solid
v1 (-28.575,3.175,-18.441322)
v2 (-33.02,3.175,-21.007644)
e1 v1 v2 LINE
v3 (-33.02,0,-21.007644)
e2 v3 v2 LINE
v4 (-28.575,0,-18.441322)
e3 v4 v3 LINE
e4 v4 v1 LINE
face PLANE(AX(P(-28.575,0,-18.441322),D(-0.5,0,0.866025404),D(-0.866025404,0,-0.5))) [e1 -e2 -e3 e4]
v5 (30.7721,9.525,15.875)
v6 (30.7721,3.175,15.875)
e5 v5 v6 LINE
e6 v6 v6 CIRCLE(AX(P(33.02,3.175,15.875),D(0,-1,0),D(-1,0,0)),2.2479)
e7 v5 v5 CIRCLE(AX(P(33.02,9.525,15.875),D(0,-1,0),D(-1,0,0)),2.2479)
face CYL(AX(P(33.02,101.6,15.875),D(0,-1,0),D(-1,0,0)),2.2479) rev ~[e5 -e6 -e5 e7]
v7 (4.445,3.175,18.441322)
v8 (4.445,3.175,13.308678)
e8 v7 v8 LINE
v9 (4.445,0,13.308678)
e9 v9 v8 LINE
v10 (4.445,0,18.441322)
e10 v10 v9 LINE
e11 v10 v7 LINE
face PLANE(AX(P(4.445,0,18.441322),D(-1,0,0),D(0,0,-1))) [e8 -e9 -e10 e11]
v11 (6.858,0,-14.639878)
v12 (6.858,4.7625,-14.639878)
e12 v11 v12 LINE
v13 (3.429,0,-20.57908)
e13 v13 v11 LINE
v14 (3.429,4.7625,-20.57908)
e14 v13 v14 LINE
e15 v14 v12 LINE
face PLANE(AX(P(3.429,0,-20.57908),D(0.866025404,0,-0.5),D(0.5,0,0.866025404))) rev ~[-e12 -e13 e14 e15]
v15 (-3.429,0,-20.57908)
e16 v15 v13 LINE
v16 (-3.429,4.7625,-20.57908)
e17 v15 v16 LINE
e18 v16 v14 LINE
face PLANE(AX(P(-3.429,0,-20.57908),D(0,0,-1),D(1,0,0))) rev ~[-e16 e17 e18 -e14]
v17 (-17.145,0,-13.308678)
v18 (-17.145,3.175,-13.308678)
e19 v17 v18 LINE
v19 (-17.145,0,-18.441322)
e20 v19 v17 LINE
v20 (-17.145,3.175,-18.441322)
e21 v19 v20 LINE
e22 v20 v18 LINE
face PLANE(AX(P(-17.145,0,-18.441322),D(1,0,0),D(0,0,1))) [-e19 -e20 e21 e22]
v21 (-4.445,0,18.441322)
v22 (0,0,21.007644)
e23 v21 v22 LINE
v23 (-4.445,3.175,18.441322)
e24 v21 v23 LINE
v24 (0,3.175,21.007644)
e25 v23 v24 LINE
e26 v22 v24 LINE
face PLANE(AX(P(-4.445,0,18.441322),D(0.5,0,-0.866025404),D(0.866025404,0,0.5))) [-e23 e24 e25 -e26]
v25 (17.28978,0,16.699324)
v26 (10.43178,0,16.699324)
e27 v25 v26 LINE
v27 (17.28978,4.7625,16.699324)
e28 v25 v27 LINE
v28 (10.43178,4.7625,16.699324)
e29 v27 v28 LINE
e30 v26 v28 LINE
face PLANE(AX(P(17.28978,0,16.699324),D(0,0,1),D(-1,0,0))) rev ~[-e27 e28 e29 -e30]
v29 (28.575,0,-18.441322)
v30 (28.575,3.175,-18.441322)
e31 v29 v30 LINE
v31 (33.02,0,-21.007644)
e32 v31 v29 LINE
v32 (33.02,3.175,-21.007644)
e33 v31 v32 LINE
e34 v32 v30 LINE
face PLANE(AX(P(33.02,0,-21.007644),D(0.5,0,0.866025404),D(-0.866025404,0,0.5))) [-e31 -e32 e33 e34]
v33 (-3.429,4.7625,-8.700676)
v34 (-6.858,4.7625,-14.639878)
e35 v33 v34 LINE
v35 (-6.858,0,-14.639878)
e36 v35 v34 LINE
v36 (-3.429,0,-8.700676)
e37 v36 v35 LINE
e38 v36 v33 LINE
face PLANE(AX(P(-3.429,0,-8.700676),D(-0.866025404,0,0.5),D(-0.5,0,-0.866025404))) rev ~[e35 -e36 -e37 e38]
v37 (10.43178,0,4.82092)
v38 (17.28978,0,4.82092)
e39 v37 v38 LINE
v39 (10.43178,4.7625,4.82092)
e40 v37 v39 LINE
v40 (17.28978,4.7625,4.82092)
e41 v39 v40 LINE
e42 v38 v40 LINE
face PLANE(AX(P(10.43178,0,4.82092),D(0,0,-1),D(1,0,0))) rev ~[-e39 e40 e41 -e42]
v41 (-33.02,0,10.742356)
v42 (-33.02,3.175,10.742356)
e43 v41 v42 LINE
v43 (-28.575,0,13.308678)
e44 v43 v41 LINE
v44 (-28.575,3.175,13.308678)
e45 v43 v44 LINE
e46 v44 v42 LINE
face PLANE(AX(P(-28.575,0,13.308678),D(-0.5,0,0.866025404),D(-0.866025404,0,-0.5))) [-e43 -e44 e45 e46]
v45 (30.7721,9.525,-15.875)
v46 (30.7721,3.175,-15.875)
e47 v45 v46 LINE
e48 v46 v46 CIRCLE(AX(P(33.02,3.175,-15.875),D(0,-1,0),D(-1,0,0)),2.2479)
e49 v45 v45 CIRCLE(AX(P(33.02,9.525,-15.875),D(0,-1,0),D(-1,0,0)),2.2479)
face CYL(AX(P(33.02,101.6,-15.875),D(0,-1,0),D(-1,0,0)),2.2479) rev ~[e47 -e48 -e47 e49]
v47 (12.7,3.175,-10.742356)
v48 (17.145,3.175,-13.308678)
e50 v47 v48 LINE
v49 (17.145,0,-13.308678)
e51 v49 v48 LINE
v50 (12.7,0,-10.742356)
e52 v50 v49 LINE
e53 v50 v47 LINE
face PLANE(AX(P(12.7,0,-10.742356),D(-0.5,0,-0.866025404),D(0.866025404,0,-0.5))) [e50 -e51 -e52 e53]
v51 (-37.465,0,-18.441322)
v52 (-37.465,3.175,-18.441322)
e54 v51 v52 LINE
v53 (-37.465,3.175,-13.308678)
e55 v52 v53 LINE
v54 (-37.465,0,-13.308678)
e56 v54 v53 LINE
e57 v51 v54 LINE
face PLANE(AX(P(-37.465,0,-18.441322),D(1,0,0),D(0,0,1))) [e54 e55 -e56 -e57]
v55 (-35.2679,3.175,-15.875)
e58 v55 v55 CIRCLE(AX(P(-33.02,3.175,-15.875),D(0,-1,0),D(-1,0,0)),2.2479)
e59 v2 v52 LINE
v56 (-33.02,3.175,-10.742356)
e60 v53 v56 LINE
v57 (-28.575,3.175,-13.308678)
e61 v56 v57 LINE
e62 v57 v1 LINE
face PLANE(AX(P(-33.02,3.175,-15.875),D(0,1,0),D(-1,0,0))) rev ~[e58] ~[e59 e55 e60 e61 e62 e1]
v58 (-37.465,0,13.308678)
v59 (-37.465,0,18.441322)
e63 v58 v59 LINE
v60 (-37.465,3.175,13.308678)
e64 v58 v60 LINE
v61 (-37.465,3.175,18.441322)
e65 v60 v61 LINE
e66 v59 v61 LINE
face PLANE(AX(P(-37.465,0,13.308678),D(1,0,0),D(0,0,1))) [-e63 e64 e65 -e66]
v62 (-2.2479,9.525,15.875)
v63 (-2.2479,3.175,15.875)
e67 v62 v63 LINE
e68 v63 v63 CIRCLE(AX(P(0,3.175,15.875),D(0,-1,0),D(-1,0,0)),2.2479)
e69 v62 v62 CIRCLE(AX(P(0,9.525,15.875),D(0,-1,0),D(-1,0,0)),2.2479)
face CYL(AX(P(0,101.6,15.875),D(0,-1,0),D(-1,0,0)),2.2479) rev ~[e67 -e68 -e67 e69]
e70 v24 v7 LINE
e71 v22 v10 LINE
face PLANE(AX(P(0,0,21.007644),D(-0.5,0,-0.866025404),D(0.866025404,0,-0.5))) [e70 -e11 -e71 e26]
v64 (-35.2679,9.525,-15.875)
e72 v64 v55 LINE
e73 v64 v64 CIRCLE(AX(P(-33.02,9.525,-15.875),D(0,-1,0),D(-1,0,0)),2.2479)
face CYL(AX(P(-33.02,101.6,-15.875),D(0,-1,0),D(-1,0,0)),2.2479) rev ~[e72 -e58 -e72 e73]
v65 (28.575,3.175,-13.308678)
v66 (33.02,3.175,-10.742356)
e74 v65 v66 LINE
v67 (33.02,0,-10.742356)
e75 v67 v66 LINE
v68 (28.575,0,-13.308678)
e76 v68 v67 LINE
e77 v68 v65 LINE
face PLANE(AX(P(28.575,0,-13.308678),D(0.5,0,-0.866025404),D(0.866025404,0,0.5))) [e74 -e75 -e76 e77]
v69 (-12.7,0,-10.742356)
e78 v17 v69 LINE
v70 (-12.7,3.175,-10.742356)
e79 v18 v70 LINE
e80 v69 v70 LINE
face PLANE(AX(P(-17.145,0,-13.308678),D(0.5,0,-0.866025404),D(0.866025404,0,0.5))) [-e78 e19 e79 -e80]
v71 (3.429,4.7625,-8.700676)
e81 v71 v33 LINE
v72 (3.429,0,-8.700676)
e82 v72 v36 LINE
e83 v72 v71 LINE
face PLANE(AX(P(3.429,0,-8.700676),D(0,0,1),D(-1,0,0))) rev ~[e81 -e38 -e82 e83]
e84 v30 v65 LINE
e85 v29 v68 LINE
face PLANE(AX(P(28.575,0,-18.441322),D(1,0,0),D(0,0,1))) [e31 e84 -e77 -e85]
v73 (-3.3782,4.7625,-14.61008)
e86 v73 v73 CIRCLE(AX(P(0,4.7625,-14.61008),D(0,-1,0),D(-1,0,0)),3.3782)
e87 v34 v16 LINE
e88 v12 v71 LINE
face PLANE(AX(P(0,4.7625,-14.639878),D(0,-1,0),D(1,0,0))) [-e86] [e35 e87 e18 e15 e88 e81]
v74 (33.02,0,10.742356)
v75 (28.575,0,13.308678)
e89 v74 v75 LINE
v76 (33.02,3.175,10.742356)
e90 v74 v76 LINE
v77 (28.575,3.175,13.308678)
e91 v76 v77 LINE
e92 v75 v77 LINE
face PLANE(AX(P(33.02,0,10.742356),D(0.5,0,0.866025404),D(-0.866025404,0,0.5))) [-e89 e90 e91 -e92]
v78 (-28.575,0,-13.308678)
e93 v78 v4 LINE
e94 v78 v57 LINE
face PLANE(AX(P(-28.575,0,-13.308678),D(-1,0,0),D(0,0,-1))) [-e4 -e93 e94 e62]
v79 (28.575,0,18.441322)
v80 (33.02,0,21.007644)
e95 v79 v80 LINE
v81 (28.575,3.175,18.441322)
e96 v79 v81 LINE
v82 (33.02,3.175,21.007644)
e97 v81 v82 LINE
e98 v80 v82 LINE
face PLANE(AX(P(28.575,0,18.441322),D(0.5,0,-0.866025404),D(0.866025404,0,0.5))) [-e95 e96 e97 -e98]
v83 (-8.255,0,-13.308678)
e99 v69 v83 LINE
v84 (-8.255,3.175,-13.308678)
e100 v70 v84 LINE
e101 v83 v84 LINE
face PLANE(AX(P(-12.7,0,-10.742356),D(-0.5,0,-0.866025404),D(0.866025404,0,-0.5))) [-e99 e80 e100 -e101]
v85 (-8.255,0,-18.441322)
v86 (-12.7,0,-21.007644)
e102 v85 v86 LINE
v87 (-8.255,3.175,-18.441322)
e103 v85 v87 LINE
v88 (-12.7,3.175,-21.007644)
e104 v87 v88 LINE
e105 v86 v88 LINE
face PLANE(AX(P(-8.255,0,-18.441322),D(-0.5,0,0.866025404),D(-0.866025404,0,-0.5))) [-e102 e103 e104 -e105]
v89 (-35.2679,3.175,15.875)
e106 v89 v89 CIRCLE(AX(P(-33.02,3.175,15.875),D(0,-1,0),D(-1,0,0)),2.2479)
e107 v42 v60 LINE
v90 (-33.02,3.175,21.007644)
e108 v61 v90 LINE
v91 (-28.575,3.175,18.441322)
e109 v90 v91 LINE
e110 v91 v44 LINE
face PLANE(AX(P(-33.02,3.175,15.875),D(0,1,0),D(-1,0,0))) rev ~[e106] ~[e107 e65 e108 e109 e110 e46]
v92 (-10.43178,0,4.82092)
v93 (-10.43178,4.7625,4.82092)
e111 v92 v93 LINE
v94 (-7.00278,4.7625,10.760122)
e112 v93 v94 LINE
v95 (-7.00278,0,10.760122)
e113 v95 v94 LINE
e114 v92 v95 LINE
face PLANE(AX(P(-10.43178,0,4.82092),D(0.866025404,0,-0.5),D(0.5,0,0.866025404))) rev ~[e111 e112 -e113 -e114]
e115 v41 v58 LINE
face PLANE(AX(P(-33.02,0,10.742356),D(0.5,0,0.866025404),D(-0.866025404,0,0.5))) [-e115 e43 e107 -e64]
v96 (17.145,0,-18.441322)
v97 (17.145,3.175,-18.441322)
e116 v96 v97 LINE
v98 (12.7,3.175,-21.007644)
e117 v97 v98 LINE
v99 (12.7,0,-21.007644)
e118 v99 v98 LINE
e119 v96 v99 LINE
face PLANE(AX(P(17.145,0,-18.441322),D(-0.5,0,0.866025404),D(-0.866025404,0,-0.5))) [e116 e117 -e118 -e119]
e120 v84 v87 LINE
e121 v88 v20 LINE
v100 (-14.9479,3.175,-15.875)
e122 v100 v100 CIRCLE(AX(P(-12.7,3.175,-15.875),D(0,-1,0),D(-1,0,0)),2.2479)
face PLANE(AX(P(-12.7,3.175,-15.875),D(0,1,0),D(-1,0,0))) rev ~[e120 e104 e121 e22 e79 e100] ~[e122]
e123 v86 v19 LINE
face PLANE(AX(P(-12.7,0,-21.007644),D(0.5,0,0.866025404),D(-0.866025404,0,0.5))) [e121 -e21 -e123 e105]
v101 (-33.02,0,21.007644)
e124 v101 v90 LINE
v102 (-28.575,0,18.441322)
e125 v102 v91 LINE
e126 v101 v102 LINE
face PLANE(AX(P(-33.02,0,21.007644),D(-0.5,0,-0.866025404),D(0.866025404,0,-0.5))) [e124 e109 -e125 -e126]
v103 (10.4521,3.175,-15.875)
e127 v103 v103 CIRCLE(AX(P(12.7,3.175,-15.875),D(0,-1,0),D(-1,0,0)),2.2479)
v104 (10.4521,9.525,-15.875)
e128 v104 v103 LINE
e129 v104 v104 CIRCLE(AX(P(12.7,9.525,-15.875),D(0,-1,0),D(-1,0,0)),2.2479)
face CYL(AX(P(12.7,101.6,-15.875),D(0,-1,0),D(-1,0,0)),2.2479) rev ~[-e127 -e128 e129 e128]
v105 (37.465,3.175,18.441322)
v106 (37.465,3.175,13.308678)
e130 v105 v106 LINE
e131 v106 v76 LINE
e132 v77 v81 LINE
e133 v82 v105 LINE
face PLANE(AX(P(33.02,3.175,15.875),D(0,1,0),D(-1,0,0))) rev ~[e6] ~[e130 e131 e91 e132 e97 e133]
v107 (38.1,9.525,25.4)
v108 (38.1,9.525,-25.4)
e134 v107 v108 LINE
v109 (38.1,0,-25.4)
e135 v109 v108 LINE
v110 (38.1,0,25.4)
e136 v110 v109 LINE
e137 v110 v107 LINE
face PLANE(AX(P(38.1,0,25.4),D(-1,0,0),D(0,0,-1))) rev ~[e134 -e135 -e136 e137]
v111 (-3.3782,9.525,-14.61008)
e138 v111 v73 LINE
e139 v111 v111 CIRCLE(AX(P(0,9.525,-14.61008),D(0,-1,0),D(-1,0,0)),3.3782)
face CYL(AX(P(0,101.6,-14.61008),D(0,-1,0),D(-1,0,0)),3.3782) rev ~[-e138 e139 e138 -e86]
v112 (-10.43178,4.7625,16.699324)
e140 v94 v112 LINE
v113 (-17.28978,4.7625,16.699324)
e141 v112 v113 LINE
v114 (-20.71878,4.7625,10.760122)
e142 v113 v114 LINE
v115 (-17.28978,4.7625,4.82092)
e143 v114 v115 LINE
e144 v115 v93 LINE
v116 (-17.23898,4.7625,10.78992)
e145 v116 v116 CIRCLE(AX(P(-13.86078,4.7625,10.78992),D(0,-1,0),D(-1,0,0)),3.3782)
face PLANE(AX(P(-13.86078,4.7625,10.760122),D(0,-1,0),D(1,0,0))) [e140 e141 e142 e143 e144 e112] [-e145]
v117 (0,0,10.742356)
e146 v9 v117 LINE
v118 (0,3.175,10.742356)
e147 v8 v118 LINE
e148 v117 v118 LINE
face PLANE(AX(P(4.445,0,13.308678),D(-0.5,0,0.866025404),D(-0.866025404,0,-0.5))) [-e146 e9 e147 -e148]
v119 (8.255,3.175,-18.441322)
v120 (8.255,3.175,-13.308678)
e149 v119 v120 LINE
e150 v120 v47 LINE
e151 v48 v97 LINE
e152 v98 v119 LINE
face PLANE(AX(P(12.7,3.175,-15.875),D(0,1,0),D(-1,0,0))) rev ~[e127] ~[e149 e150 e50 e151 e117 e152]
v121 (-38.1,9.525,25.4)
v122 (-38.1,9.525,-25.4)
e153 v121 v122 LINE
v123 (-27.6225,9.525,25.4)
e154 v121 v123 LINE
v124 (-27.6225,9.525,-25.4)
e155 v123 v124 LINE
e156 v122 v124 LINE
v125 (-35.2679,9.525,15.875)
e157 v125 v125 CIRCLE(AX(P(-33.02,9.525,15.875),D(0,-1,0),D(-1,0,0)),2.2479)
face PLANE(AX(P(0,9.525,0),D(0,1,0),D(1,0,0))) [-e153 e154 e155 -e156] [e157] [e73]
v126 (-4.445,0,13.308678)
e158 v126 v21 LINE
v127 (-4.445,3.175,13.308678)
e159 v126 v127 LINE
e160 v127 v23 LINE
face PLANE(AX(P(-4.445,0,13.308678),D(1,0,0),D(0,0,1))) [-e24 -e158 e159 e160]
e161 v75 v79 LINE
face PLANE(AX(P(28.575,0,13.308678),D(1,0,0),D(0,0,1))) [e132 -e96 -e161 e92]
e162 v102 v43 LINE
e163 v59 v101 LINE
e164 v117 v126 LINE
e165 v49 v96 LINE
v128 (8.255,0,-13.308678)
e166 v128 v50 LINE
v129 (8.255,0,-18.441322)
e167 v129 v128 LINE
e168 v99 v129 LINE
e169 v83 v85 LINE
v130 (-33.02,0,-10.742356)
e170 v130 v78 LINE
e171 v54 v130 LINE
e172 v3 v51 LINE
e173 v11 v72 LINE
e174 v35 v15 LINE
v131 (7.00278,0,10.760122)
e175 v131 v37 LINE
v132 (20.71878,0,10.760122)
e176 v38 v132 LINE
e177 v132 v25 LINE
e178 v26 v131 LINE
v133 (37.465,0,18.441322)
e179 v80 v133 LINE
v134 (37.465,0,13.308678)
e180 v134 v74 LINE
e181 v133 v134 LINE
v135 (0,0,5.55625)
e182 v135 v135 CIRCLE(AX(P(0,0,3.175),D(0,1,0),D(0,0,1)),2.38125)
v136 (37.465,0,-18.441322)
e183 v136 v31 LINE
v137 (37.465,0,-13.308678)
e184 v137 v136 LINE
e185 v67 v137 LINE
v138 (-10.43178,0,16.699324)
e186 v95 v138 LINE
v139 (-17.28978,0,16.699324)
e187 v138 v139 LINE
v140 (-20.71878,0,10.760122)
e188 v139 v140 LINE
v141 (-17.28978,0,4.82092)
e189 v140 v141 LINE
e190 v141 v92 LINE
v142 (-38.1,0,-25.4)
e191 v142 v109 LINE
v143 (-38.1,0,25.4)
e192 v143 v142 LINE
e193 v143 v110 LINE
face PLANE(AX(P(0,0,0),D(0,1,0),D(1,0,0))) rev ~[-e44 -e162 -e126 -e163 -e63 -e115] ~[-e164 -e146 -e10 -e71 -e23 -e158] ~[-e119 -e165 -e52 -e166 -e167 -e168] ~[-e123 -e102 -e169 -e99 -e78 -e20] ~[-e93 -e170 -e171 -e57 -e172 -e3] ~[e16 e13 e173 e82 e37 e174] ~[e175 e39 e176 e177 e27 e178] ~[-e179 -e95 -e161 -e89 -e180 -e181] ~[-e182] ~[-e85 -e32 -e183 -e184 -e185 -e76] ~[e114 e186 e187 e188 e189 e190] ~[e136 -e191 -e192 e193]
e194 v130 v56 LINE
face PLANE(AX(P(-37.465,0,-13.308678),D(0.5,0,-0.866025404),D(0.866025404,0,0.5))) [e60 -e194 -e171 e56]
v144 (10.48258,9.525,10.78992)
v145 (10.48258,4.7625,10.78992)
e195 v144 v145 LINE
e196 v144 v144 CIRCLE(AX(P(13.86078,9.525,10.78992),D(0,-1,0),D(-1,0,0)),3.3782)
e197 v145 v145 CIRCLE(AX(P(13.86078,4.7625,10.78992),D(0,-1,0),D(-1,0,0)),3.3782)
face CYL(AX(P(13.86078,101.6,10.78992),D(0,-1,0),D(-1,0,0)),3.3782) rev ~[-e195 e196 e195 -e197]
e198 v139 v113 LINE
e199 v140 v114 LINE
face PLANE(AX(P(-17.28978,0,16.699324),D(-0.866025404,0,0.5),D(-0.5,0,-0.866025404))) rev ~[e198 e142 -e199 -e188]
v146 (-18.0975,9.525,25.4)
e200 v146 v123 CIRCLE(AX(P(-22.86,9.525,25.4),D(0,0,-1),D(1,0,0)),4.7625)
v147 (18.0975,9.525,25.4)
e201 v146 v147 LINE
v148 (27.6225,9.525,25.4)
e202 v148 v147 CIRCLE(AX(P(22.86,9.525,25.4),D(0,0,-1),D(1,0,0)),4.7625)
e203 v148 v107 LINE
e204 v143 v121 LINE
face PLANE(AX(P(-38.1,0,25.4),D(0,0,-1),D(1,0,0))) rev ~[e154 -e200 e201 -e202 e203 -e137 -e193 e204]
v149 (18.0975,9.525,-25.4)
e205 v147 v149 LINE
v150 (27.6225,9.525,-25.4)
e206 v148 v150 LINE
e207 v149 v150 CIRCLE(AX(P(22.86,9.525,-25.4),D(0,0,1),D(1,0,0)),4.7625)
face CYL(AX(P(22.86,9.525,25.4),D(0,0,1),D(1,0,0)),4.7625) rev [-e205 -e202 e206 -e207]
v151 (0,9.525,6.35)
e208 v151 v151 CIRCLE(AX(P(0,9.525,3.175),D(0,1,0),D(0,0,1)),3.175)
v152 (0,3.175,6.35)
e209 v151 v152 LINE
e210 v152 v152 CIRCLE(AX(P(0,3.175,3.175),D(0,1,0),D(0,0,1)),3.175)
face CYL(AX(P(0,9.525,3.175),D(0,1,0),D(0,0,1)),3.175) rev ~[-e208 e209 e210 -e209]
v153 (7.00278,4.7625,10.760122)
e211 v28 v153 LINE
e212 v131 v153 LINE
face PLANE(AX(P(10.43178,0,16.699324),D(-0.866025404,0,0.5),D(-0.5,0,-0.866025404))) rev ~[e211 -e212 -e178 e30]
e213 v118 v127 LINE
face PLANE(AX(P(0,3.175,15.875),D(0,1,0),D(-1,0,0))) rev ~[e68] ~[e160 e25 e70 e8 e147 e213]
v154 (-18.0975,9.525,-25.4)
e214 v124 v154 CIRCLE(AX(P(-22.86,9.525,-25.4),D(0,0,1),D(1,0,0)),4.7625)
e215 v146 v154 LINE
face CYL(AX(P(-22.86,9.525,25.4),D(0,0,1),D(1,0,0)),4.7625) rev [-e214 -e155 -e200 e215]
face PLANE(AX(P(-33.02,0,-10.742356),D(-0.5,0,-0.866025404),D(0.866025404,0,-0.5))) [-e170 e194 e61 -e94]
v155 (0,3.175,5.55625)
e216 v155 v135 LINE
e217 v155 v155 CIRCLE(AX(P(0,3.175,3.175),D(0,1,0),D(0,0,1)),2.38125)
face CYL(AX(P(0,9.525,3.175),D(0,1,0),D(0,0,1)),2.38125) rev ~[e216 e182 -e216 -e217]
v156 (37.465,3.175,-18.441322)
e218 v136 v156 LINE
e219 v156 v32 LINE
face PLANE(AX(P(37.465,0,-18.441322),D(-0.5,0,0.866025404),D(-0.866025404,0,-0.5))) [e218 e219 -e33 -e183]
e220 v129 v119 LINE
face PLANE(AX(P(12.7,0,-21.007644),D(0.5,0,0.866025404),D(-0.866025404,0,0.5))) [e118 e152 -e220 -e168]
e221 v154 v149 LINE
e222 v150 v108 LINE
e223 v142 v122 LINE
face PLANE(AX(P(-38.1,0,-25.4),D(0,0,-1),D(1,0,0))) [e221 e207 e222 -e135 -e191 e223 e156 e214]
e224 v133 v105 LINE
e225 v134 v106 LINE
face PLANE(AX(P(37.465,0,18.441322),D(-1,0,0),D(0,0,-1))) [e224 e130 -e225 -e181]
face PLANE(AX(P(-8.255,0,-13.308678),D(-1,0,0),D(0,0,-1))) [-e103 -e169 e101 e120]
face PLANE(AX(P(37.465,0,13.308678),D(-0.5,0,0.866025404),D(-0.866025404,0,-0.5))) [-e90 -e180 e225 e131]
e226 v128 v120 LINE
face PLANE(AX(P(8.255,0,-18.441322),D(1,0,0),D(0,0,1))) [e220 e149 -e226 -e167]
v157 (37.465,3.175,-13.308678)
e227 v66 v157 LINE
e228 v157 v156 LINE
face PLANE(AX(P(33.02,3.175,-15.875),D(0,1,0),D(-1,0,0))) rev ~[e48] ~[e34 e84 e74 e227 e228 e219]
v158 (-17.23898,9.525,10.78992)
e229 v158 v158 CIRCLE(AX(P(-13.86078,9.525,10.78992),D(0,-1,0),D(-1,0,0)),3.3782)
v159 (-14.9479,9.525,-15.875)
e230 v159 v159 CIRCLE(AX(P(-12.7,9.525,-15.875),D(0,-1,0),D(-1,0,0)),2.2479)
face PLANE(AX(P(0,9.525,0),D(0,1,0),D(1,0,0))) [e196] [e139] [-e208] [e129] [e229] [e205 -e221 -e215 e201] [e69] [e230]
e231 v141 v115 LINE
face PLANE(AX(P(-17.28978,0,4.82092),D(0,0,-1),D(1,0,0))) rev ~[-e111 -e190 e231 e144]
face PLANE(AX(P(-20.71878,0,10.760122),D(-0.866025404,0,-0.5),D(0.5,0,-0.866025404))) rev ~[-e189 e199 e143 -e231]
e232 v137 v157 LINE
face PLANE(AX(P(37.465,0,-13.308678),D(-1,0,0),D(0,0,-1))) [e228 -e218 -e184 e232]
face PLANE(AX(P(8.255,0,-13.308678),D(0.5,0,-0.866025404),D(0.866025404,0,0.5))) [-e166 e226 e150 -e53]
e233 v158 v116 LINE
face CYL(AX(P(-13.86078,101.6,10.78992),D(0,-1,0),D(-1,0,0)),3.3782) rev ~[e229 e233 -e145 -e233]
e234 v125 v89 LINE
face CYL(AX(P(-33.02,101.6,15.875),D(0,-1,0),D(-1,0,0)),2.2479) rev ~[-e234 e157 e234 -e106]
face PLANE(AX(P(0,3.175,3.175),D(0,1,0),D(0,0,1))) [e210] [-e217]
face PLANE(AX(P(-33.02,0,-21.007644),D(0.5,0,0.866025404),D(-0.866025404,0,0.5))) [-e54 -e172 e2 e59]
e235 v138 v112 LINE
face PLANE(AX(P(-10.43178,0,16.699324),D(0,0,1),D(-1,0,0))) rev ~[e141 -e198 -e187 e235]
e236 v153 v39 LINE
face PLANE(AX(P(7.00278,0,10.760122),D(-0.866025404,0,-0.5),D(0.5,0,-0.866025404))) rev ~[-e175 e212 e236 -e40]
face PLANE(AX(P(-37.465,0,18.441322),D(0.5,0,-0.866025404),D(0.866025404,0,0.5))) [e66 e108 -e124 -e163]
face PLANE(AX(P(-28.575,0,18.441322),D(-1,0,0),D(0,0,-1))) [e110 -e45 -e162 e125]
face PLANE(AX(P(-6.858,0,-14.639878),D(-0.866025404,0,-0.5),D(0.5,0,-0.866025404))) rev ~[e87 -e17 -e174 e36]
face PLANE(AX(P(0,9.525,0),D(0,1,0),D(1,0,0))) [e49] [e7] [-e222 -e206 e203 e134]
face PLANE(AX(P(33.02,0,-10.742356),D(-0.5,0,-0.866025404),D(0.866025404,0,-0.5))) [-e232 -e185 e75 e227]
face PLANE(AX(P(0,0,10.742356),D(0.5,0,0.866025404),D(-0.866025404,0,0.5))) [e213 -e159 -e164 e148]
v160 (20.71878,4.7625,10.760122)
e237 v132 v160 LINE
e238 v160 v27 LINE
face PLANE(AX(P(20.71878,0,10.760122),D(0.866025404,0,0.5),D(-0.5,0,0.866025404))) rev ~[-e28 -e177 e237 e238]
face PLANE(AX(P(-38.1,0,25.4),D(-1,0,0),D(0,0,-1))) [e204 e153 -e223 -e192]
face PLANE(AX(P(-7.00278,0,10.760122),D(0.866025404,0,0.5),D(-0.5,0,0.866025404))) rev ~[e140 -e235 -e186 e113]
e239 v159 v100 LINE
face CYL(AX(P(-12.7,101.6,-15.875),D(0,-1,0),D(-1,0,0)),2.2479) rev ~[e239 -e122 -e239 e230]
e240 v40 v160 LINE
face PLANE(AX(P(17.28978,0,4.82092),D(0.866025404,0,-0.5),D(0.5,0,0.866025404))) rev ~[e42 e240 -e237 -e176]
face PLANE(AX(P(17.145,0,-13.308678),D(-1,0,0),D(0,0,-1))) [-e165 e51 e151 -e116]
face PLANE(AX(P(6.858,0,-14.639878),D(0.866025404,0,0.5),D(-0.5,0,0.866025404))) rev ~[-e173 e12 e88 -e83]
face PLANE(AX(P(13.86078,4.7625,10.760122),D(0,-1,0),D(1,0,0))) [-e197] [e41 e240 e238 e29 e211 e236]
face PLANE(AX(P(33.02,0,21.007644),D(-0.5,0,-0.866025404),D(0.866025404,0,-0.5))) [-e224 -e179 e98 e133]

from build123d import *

# Parameters (mm, degrees)
SKETCH1_W               = 76.2
SKETCH1_H               = 50.8
BOSS_EXTRUDE1_DEPTH     = 9.525
F_1_4_CLEARANCE_HOLE1_D = 6.7564
CUT_EXTRUDE1_DEPTH      = 65.210401221
SKETCH5_R               = 2.38125
CUT_EXTRUDE2_DEPTH      = 47.770670564
F_8_CLEARANCE_HOLE1_D   = 4.4958
CUT_EXTRUDE3_DEPTH      = 4.7625
CUT_EXTRUDE4_DEPTH      = 3.175
SKETCH11_R              = 3.175
CUT_EXTRUDE5_DEPTH      = 6.35


with BuildPart() as part:
    # Sketch1 → Boss-Extrude1 (new body)
    with BuildSketch(Plane(origin=(0, 0, 0), x_dir=(1, 0, 0), z_dir=(0, 1, 0))):
        Rectangle(SKETCH1_W, SKETCH1_H)
    extrude(amount=BOSS_EXTRUDE1_DEPTH)

    # 1/4 Clearance Hole1 (through all)
    with Locations(Plane(origin=(0, 9.525, 0), x_dir=(1, 0, 0), z_dir=(0, 1, 0))):
        with Locations((0, 14.61008), (-13.86078, -10.78992), (13.86078, -10.78992)):
            Hole(F_1_4_CLEARANCE_HOLE1_D / 2)

    # Sketch4 → Cut-Extrude1 (cut, through all)
    with BuildSketch(Plane.XY.offset(25.4)):
        with BuildLine():
            Line((-27.6225, 9.525), (-18.0975, 9.525))
            ThreePointArc((-18.0975, 9.525), (-22.86, 4.7625), (-27.6225, 9.525))
        make_face()
        with BuildLine():
            Line((18.0975, 9.525), (27.6225, 9.525))
            ThreePointArc((27.6225, 9.525), (22.86, 4.7625), (18.0975, 9.525))
        make_face()
    extrude(amount=-CUT_EXTRUDE1_DEPTH, mode=Mode.SUBTRACT)

    # Sketch5 → Cut-Extrude2 (cut, through all)
    with BuildSketch(Plane(origin=(0, 9.525, 0), x_dir=(1, 0, 0), z_dir=(0, 1, 0))):
        with Locations(Location((0, -3.175, 0), (0, 0, 270))):
            Circle(SKETCH5_R)
    extrude(amount=-CUT_EXTRUDE2_DEPTH, mode=Mode.SUBTRACT)

    # #8 Clearance Hole1 (through all)
    with Locations(Plane(origin=(0, 9.525, 0), x_dir=(1, 0, 0), z_dir=(0, 1, 0))):
        with Locations((-33.02, 15.875), (-33.02, -15.875), (33.02, -15.875), (33.02, 15.875), (-12.7, 15.875), (12.7, 15.875), (0, -15.875)):
            Hole(F_8_CLEARANCE_HOLE1_D / 2)

    # Sketch8 → Cut-Extrude3 (cut)
    with BuildSketch(Plane.XZ):
        Polygon((-17.28978, 4.82092), (-10.43178, 4.82092), (-7.00278, 10.760122219), (-10.43178, 16.699324438), (-17.28978, 16.699324438), (-20.71878, 10.760122219), align=None)
        Polygon((10.43178, 4.82092), (17.28978, 4.82092), (20.71878, 10.760122219), (17.28978, 16.699324438), (10.43178, 16.699324438), (7.00278, 10.760122219), align=None)
        Polygon((-3.429, -20.57908), (3.429, -20.57908), (6.858, -14.639877781), (3.429, -8.700675562), (-3.429, -8.700675562), (-6.858, -14.639877781), align=None)
    extrude(amount=-CUT_EXTRUDE3_DEPTH, mode=Mode.SUBTRACT)

    # Sketch9 → Cut-Extrude4 (cut)
    with BuildSketch(Plane.XZ):
        Polygon((-37.465, 13.308678053), (-37.465, 18.441321947), (-33.02, 21.007643893), (-28.575, 18.441321947), (-28.575, 13.308678053), (-33.02, 10.742356107), align=None)
        Polygon((-4.445, 13.308678053), (-4.445, 18.441321947), (0, 21.007643893), (4.445, 18.441321947), (4.445, 13.308678053), (0, 10.742356107), align=None)
        Polygon((28.575, 13.308678053), (28.575, 18.441321947), (33.02, 21.007643893), (37.465, 18.441321947), (37.465, 13.308678053), (33.02, 10.742356107), align=None)
        Polygon((28.575, -18.441321947), (28.575, -13.308678053), (33.02, -10.742356107), (37.465, -13.308678053), (37.465, -18.441321947), (33.02, -21.007643893), align=None)
        Polygon((8.255, -18.441321947), (8.255, -13.308678053), (12.7, -10.742356107), (17.145, -13.308678053), (17.145, -18.441321947), (12.7, -21.007643893), align=None)
        Polygon((-17.145, -18.441321947), (-17.145, -13.308678053), (-12.7, -10.742356107), (-8.255, -13.308678053), (-8.255, -18.441321947), (-12.7, -21.007643893), align=None)
        Polygon((-37.465, -18.441321947), (-37.465, -13.308678053), (-33.02, -10.742356107), (-28.575, -13.308678053), (-28.575, -18.441321947), (-33.02, -21.007643893), align=None)
    extrude(amount=-CUT_EXTRUDE4_DEPTH, mode=Mode.SUBTRACT)

    # Sketch11 → Cut-Extrude5 (cut)
    with BuildSketch(Plane(origin=(0, 9.525, 0), x_dir=(1, 0, 0), z_dir=(0, 1, 0))):
        with Locations(Location((0, -3.175, 0), (0, 0, 270))):
            Circle(SKETCH11_R)
    extrude(amount=-CUT_EXTRUDE5_DEPTH, mode=Mode.SUBTRACT)


solid = part.part
